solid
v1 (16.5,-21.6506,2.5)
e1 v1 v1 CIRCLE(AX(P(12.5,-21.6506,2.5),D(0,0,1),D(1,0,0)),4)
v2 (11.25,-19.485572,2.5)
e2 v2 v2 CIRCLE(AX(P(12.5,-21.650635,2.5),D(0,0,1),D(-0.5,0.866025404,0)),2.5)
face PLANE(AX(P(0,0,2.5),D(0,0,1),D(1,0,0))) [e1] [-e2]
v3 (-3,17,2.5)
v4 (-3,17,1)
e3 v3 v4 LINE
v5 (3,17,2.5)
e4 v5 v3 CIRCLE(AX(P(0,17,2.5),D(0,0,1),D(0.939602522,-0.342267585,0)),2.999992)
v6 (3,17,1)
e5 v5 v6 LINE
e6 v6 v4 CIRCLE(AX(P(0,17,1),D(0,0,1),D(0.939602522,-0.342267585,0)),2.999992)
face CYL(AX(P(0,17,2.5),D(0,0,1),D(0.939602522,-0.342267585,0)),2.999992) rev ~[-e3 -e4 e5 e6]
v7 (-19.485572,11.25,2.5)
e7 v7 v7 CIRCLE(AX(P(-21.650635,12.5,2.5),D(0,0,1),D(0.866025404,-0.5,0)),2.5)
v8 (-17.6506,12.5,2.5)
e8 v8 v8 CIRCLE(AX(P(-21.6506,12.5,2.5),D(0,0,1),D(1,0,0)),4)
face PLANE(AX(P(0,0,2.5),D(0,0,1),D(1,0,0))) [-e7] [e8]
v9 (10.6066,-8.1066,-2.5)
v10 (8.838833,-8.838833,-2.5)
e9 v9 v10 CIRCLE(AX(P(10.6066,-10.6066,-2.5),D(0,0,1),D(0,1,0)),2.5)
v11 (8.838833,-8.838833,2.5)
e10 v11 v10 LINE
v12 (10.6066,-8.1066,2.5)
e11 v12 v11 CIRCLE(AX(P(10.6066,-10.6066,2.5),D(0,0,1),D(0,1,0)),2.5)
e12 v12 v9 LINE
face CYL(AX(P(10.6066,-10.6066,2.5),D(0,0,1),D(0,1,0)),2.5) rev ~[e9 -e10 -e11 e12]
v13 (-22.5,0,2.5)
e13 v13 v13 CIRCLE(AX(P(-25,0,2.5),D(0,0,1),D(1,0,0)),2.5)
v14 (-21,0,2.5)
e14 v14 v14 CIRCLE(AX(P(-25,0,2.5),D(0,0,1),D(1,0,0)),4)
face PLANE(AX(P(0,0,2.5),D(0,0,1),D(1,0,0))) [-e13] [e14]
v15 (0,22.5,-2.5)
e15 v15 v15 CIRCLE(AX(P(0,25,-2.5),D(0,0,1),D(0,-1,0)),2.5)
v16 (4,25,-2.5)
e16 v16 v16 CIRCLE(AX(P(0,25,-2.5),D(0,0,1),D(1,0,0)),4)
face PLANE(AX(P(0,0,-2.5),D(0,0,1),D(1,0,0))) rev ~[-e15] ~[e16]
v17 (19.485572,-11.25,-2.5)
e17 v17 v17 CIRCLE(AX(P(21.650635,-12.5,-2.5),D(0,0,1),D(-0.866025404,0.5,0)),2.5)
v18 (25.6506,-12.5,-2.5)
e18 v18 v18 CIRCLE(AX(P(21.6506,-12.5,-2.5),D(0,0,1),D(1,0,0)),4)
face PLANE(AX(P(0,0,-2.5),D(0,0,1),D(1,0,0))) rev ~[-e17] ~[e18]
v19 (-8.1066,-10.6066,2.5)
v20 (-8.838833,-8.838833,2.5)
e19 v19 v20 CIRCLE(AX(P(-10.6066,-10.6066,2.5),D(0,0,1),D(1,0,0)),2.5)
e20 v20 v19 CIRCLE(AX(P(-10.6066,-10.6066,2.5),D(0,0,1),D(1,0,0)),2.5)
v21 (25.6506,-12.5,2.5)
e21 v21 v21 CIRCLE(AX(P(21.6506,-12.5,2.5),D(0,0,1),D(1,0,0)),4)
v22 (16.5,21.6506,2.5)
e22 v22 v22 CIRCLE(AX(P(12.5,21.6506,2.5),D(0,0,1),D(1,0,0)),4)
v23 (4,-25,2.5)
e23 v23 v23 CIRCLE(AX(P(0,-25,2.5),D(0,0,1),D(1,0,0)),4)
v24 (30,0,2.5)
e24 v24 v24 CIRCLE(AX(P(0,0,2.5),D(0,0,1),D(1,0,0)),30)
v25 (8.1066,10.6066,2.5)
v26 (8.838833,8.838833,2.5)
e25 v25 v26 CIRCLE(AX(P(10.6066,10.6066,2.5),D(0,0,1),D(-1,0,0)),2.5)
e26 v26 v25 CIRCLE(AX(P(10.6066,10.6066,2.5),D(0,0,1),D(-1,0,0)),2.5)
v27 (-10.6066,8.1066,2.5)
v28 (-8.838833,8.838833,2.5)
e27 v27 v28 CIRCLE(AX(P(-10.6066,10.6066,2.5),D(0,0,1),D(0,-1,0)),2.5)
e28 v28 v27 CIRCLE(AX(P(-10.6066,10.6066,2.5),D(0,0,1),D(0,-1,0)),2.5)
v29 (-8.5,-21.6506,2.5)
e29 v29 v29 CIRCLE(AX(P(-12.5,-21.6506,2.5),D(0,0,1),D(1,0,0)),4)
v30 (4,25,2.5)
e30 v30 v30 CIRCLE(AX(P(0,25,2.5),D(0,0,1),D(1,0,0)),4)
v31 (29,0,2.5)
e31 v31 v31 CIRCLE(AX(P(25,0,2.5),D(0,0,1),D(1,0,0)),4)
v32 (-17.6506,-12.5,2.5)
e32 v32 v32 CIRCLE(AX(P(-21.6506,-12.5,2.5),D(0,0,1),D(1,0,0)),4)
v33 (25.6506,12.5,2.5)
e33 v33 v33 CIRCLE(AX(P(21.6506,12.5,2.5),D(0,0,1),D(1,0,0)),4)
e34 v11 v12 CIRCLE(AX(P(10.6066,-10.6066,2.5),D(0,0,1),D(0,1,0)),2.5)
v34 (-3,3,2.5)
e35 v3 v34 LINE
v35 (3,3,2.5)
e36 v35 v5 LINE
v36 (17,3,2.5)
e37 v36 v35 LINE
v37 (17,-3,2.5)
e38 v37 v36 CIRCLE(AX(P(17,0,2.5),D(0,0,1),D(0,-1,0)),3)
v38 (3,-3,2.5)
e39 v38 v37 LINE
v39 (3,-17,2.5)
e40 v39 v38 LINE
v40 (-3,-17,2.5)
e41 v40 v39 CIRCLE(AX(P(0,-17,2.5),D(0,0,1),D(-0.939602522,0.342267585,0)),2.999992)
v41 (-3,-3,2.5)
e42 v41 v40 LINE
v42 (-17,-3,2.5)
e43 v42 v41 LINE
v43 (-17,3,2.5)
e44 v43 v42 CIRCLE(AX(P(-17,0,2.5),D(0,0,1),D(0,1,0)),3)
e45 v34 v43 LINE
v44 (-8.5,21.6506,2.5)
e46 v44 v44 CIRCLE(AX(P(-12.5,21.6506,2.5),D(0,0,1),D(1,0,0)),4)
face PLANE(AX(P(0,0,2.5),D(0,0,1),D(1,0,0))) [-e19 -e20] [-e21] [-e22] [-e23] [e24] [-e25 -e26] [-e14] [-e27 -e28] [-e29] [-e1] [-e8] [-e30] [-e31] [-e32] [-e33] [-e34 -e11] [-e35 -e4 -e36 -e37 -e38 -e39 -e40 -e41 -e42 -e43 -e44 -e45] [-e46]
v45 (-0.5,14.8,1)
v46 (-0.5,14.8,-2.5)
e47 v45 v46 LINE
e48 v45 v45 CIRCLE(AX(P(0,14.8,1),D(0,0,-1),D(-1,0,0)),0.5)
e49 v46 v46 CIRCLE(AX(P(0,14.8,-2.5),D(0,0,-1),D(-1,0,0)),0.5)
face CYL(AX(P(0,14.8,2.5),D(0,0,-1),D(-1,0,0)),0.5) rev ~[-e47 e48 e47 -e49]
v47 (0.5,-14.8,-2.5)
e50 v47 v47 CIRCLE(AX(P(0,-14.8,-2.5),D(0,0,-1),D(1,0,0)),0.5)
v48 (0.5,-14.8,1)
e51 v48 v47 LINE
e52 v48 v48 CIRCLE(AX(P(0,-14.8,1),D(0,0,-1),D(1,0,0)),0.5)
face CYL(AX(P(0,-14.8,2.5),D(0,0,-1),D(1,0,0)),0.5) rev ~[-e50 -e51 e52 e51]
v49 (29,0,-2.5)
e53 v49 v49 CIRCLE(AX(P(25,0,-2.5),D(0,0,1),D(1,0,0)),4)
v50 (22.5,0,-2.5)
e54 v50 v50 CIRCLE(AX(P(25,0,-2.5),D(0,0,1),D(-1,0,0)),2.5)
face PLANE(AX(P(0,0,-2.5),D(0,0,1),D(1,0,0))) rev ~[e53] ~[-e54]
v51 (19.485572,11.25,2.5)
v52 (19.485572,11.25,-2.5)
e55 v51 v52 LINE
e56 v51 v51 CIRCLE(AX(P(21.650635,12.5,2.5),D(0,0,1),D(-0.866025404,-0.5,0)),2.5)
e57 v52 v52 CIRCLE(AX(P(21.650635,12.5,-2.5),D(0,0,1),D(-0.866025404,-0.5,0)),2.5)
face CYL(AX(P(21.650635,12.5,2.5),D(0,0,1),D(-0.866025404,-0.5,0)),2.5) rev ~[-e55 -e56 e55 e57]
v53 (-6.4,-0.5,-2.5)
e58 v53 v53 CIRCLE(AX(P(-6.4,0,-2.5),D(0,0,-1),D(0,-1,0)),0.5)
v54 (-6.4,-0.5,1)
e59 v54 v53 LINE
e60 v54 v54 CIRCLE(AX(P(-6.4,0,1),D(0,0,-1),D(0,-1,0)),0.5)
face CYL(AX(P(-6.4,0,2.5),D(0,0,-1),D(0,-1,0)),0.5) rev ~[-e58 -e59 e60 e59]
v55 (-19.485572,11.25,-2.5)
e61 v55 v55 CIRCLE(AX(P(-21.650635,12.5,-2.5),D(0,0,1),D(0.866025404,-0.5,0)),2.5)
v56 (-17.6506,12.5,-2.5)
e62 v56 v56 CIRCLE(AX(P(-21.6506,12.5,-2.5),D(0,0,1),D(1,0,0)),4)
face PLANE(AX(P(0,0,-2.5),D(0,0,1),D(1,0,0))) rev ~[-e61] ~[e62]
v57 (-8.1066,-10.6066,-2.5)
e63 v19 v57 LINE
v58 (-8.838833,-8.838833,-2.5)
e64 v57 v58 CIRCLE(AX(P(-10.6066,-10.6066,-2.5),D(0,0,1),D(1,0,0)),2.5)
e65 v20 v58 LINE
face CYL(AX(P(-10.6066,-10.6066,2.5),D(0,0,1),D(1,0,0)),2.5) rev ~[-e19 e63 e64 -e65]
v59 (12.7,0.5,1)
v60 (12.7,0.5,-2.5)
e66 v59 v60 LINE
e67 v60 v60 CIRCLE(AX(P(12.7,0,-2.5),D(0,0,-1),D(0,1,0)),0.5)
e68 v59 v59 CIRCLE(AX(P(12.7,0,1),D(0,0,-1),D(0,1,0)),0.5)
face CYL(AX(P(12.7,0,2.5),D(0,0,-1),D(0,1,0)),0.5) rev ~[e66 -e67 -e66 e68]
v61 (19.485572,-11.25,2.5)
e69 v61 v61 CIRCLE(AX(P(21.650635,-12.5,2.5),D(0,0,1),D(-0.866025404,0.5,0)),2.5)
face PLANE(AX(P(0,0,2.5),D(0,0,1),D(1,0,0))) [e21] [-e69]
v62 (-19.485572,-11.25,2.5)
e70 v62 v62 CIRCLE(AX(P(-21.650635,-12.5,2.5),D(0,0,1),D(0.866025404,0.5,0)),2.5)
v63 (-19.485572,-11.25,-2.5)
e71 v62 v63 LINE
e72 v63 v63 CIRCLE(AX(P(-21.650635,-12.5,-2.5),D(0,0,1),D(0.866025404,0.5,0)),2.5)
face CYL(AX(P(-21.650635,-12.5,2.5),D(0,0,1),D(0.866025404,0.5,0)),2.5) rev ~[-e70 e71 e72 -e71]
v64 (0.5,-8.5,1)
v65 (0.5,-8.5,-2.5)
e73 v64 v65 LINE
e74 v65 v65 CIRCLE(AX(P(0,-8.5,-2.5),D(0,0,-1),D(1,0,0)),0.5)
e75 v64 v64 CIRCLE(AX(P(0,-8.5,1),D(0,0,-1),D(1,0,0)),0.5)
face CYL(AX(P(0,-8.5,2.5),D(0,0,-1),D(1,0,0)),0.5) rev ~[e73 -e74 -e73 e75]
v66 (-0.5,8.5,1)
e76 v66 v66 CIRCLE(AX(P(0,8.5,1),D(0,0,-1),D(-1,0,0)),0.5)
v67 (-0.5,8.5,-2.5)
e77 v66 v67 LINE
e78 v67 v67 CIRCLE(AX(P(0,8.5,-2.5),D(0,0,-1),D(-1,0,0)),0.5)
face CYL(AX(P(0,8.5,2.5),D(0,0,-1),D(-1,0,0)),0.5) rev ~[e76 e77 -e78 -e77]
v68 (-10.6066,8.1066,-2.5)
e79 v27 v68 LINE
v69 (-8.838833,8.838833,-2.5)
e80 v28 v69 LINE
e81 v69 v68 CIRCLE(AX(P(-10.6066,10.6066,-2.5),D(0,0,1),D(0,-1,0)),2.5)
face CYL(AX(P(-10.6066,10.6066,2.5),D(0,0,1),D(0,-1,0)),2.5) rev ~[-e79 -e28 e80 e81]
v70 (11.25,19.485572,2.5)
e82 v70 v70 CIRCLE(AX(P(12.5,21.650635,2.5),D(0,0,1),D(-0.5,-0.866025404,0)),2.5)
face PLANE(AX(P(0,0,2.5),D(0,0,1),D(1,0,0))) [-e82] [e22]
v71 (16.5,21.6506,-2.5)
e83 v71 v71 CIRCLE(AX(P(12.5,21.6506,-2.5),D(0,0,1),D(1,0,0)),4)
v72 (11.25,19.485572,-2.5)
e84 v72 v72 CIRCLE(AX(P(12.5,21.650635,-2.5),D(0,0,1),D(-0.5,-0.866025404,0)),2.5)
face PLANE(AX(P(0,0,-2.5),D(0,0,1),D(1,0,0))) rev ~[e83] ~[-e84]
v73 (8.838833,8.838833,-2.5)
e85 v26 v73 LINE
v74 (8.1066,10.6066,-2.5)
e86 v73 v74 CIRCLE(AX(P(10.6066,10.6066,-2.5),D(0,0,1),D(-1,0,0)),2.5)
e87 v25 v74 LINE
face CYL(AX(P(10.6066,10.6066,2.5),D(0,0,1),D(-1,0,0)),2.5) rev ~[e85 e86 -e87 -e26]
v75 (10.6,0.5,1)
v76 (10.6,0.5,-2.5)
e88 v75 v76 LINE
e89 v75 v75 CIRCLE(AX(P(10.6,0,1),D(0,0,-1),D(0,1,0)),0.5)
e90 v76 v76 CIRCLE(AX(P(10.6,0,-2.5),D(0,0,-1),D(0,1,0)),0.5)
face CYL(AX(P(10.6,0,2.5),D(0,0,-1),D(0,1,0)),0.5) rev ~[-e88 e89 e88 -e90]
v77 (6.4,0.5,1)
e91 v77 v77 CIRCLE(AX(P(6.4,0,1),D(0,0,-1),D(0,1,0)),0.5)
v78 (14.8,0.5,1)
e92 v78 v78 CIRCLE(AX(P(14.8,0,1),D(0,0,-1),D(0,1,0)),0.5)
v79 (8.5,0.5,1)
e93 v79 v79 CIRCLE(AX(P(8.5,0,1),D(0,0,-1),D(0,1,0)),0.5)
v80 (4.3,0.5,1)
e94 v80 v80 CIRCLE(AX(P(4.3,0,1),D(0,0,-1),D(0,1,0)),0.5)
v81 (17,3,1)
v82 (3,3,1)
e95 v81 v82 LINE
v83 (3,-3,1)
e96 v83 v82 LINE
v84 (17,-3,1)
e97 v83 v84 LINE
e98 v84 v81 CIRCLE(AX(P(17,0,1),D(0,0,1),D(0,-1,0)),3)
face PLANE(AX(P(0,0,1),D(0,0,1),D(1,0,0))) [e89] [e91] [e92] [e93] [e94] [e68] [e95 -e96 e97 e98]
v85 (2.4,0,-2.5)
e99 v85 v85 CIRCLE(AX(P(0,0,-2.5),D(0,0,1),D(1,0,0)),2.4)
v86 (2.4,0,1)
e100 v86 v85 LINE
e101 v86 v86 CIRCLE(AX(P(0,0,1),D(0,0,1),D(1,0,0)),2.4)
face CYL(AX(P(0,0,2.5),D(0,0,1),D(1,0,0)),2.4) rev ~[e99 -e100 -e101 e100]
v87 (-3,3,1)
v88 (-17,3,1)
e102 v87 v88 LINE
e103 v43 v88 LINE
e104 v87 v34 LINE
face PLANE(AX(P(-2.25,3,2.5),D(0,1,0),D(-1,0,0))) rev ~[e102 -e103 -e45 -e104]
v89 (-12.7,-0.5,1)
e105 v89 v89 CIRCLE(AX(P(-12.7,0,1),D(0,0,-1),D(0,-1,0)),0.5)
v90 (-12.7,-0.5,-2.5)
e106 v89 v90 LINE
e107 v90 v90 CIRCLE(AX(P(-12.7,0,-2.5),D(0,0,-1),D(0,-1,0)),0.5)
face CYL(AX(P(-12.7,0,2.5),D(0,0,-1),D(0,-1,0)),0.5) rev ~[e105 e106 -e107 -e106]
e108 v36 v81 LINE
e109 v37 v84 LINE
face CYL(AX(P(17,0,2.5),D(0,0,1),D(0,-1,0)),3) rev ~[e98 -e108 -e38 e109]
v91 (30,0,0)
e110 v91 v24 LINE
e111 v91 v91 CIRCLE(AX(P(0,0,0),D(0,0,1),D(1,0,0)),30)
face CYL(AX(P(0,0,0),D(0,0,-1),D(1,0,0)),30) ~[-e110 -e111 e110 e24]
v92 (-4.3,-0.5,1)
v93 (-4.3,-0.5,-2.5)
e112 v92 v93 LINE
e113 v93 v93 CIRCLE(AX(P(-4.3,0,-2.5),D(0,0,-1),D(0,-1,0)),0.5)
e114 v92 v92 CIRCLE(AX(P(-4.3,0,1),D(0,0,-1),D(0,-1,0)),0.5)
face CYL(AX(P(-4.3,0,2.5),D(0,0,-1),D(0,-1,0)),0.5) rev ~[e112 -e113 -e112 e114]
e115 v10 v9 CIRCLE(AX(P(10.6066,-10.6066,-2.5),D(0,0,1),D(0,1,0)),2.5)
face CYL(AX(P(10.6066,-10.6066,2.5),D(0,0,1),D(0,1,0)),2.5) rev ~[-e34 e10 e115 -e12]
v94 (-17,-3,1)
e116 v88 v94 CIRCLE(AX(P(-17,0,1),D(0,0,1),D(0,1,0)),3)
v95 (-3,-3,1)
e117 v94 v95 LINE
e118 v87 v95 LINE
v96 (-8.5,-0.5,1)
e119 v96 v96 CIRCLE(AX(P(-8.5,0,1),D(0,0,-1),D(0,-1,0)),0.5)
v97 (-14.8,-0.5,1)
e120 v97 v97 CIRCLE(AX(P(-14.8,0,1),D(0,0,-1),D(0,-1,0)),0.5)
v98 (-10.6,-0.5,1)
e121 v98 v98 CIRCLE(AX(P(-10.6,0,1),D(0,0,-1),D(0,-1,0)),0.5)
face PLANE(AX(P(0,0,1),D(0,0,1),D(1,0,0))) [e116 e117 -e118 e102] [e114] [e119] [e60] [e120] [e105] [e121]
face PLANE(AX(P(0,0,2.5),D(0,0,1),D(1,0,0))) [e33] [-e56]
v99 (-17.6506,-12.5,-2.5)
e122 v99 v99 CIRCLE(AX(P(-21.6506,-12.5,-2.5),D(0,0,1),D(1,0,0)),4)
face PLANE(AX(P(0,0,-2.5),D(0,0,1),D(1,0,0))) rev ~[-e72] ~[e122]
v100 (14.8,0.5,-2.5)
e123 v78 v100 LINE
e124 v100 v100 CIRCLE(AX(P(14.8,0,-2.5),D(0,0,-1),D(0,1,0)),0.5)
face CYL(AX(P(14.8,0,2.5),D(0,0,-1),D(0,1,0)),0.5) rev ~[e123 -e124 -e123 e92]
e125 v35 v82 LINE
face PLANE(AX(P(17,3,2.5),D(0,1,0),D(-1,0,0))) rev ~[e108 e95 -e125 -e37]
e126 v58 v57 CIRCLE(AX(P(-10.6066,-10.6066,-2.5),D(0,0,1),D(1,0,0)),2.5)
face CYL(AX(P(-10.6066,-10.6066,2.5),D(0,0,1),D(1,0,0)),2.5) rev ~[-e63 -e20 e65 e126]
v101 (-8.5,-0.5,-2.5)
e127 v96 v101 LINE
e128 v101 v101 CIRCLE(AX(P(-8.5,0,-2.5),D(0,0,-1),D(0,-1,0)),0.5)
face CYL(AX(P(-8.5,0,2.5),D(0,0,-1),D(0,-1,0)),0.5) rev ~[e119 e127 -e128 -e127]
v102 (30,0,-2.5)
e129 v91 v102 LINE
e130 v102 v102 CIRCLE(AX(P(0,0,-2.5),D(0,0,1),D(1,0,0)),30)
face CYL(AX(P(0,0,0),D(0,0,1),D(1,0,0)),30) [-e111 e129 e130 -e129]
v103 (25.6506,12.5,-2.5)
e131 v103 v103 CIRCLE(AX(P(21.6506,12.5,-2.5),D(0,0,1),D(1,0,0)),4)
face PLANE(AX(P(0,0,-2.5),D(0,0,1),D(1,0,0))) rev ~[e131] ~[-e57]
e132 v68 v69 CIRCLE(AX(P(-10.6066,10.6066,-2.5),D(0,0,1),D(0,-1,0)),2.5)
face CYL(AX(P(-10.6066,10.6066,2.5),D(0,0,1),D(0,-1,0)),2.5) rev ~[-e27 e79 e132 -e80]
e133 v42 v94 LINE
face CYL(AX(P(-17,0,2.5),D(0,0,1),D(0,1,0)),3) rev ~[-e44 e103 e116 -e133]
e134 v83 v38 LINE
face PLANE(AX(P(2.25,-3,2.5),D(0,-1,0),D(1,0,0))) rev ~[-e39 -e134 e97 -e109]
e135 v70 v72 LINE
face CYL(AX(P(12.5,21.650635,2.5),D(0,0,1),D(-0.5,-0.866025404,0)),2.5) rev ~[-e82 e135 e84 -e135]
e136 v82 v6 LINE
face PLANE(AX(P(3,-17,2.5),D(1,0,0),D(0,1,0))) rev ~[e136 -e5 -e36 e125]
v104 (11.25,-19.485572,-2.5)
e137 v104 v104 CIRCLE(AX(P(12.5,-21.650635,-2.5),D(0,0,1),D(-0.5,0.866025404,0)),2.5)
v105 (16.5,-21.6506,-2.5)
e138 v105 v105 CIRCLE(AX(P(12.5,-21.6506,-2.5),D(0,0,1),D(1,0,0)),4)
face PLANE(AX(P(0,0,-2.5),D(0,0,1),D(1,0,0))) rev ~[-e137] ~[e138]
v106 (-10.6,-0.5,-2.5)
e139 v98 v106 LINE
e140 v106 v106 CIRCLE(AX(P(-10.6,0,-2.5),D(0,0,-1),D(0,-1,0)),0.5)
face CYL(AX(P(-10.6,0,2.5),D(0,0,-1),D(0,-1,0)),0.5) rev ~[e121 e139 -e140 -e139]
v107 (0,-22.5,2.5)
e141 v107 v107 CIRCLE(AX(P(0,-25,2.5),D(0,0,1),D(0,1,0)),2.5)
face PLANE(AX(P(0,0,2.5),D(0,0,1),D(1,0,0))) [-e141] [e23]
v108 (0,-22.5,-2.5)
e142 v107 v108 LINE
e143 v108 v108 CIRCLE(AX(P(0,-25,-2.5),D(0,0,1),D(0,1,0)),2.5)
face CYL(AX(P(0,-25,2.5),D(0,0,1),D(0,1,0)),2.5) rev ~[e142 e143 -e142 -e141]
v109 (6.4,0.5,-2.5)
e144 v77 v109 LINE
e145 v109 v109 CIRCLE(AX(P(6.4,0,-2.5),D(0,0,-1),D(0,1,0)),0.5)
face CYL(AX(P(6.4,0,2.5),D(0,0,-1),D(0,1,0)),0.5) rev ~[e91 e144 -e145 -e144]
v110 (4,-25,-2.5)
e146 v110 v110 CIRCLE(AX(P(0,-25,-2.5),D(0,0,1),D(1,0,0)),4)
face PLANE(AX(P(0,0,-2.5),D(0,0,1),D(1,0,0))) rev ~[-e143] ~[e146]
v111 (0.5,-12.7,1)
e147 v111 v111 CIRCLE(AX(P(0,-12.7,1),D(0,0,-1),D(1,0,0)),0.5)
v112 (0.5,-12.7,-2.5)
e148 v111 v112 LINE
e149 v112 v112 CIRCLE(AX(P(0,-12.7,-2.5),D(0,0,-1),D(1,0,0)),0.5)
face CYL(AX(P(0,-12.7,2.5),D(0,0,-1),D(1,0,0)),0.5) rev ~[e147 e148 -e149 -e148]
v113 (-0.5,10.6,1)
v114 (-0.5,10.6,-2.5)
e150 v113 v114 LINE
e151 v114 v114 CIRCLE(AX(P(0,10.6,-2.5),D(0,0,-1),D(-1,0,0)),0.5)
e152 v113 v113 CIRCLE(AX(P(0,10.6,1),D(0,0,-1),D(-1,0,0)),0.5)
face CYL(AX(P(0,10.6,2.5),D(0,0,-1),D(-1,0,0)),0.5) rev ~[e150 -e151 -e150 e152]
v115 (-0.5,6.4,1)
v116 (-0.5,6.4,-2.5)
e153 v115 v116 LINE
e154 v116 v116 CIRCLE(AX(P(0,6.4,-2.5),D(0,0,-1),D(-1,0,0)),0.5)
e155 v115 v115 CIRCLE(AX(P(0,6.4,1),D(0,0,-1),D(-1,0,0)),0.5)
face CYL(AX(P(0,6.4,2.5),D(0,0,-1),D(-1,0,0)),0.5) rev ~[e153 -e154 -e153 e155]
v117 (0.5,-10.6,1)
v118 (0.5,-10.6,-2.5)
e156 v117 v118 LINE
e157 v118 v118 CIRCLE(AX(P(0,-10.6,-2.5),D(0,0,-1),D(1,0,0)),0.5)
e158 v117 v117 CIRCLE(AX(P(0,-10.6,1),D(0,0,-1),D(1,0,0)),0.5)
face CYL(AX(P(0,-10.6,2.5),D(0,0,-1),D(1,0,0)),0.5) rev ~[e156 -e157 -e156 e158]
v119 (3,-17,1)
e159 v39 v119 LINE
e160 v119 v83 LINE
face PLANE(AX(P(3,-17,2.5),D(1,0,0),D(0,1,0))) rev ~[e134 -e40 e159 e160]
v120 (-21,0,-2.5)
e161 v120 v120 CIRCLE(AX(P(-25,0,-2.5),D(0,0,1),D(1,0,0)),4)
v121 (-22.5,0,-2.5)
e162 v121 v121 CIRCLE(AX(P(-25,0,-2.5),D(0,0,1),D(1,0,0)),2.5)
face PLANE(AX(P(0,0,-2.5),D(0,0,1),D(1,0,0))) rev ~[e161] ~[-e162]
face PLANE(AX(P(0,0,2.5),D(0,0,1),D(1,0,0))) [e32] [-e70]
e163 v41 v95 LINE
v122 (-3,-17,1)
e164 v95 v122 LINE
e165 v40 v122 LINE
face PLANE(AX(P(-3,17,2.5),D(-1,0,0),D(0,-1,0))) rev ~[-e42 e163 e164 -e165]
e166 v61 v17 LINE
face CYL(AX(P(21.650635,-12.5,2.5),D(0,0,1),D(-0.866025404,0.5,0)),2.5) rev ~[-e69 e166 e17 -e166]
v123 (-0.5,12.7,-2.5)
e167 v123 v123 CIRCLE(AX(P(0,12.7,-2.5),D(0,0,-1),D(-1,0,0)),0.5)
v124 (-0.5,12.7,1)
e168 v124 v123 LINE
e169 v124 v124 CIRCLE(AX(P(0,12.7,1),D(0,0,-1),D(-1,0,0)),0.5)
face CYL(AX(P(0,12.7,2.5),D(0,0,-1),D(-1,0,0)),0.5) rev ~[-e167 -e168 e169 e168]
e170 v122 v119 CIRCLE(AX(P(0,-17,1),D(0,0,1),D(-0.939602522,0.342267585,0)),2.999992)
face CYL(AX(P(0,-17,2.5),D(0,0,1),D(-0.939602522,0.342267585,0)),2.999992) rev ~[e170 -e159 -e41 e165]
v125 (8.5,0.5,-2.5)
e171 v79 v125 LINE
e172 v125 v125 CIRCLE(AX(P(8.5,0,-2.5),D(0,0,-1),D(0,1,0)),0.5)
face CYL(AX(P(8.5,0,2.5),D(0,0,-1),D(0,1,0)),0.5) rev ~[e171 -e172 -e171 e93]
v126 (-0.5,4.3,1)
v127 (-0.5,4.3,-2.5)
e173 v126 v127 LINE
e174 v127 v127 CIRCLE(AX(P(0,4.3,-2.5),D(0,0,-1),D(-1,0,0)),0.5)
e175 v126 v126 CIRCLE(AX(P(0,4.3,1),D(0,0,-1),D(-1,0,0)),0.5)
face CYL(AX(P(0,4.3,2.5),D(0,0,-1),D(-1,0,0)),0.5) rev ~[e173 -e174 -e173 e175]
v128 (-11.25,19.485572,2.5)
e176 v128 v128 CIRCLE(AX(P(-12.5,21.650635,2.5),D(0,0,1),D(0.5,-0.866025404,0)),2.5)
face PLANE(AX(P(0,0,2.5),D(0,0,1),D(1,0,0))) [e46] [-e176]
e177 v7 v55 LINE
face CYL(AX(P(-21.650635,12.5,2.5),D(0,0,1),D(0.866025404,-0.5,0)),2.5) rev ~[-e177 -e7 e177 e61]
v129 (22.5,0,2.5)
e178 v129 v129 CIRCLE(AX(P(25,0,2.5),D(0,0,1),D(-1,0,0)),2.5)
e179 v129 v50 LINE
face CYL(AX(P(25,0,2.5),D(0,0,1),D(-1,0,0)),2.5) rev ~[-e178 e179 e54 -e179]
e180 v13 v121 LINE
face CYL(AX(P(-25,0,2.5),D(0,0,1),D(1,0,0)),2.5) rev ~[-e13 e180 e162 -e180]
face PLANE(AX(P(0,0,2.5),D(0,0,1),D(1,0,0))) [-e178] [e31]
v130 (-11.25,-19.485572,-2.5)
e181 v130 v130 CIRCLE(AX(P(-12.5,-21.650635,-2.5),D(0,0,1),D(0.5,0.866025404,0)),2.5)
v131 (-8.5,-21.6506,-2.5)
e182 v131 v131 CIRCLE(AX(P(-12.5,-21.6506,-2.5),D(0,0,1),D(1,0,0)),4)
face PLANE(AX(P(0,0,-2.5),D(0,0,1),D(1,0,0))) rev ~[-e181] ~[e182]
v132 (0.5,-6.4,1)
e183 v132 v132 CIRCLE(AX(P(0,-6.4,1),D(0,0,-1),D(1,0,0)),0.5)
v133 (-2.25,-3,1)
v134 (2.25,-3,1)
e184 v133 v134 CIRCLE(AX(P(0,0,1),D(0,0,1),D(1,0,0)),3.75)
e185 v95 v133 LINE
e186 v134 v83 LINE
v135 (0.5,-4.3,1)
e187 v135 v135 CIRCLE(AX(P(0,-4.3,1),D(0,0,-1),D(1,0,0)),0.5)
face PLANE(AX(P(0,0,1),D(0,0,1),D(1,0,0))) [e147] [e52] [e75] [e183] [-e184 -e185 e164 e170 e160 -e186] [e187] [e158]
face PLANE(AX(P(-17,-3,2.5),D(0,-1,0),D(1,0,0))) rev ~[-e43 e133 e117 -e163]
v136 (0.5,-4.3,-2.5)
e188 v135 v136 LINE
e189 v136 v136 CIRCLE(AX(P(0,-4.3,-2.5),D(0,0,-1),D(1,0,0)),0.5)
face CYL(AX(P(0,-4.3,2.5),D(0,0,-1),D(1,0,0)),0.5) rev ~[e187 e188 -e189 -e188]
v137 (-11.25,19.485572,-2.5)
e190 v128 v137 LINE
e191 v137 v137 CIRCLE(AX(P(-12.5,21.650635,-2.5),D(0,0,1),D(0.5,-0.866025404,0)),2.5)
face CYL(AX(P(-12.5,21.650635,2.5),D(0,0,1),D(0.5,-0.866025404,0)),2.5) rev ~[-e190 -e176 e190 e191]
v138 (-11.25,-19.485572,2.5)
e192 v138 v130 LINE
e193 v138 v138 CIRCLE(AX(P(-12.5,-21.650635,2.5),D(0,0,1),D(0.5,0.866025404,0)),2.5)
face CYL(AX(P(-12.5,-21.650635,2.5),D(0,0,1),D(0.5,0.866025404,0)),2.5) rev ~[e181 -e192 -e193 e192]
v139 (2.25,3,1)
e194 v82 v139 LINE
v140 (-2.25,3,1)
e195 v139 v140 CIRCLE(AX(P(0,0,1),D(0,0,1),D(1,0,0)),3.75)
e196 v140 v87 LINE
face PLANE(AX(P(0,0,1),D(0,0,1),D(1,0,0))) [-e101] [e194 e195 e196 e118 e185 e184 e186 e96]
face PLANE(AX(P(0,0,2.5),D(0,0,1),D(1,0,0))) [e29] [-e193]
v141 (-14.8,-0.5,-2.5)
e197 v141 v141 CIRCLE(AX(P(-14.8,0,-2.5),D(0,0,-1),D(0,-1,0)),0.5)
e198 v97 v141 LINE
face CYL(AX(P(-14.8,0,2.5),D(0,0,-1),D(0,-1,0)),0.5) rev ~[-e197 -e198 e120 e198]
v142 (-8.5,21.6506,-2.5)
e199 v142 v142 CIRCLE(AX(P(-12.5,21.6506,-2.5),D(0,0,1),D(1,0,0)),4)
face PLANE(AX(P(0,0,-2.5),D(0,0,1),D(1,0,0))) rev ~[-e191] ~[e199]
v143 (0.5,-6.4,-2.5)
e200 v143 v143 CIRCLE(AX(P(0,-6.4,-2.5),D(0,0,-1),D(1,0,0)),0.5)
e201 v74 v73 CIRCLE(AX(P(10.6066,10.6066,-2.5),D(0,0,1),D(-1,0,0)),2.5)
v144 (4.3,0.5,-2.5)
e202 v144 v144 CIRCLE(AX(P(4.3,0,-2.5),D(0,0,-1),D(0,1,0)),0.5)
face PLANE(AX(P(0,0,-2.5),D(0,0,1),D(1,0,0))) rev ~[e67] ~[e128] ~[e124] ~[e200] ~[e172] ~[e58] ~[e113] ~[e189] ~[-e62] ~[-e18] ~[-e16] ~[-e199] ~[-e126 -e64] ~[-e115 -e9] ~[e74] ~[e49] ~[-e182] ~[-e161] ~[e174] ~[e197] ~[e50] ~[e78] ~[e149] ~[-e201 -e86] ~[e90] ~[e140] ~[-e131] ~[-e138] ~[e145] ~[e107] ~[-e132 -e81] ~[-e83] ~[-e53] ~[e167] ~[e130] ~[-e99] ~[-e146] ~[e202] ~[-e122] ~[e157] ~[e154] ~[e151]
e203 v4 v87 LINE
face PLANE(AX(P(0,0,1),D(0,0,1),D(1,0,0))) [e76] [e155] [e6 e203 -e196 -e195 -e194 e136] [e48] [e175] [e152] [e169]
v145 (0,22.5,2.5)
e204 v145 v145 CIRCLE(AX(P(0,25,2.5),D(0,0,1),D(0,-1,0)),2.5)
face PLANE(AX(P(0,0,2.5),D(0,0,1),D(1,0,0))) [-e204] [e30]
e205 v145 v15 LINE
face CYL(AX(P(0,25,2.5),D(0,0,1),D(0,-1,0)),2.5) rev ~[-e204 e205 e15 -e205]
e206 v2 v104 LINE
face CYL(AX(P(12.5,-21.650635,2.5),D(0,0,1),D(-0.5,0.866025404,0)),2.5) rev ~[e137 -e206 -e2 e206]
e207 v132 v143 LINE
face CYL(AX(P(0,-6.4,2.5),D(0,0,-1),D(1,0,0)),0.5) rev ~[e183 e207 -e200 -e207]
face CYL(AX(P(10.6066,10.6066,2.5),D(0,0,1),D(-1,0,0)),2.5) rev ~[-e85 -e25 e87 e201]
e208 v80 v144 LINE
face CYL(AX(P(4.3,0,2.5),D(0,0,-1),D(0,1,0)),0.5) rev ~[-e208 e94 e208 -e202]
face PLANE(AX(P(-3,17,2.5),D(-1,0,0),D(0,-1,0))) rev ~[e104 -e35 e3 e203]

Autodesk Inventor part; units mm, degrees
ref_plane "YZ Plane" through (0, 0, 0) normal (1, 0, 0) x (0, 1, 0)
ref_plane "XZ Plane" through (0, 0, 0) normal (0, 1, 0) x (-1, 0, 0)
ref_plane "XY Plane" through (0, 0, 0) normal (0, 0, 1) x (1, 0, 0)
sketch "Szkic1" plane through (0, 0, 0) normal (0, 0, 1) x (1, 0, 0)
  circle A0 centre (0, 0) radius 30
  dimension "d0" = 60
extrude "Wyciągnięcie proste1" add sketch "Szkic1" along normal mid plane 5
sketch "Szkic3" plane through (0, 0, 2.5) normal (0, 0, 1) x (1, 0, 0)
  point P0 (0, 0)
sketch "Szkic4" plane through (0, 0, 2.5) normal (0, 0, 1) x (1, 0, 0)
  circle A0 centre (0, 0) radius 2.4
  dimension "d3" = 4.8
extrude "Wyciągnięcie proste2" cut sketch "Szkic4" against normal blind 5
sketch "Szkic7" plane through (0, 0, 2.5) normal (0, 0, 1) x (1, 0, 0)
  point P0 (0, 0)
sketch "Szkic11" plane through (0, 0, 2.5) normal (0, 0, 1) x (1, 0, 0)
  circle A0 centre (-25, 0) radius 4
  circle A1 centre (0, 0) radius 30 projected
  circle A2 centre (-21.6506, -12.5) radius 4
  circle A3 centre (-12.5, -21.6506) radius 4
  circle A4 centre (0, -25) radius 4
  circle A5 centre (12.5, -21.6506) radius 4
  circle A6 centre (21.6506, -12.5) radius 4
  circle A7 centre (25, 0) radius 4
  circle A8 centre (21.6506, 12.5) radius 4
  circle A9 centre (12.5, 21.6506) radius 4
  circle A10 centre (0, 25) radius 4
  circle A11 centre (-12.5, 21.6506) radius 4
  circle A12 centre (-21.6506, 12.5) radius 4
  point P0 (19.3799, 15.793)
  point P1 (23.3671, 8.887)
  point P2 (24.68, -3.9872)
  point P3 (24.68, 3.9872)
  point P4 (23.3671, -8.887)
  point P5 (19.3799, -15.793)
  point P6 (8.887, -23.3671)
  point P7 (15.793, -19.3799)
  point P8 (3.9872, -24.68)
  point P9 (-3.9872, -24.68)
  point P10 (-15.793, -19.3799)
  point P11 (-8.887, -23.3671)
  point P12 (-19.3799, -15.793)
  point P13 (-23.3671, -8.887)
  point P14 (-24.68, -3.9872)
  point P15 (-24.68, 3.9872)
  point P16 (8.887, 23.3671)
  point P17 (15.793, 19.3799)
  point P18 (-3.9872, 24.68)
  point P19 (3.9872, 24.68)
  point P20 (-15.793, 19.3799)
  point P21 (-8.887, 23.3671)
  point P22 (-23.3671, 8.887)
  point P23 (-19.3799, 15.793)
  dimension "d15" = 25
  dimension "d16" = 0
  dimension "d17" = 8
  dimension "d20" = 360
extrude "Wyciągnięcie proste3" add sketch "Szkic11" against normal blind 5 contours A0 | A2 | A3 | A4 | A5 | A6 | A7 | A8 | A9 | A10 | A11 | A12
sketch "Szkic16" plane through (0, 0, 2.5) normal (0, 0, 1) x (1, 0, 0)
  arc A0 (30, 0) -> (30, 0) centre (-25, 0) ccw projected
  circle A1 centre (-25, 0) radius 2.5
  arc A2 (30, 0) -> (30, 0) centre (-25, 0) ccw projected
  point P0 (0, 0)
  dimension "d30" = 5
extrude "Wyciągnięcie proste4" cut sketch "Szkic16" against normal blind 5 contours A1
pattern_circular "Szyk kołowy1" count 12 over 360 about axis through (0, 0, 0) along (0, 0, 1) of "Wyciągnięcie proste4"
sketch "Szkic22" plane through (0, 0, 2.5) normal (0, 0, 1) x (1, 0, 0)
  line L0 (0, 0) -> (-4.3, 0)
  circle A0 centre (-4.3, 0) radius 0.5
  line L1 (-4.3, 0) -> (-6.4, 0)
  line L2 (-6.4, 0) -> (-8.5, 0)
  line L3 (-8.5, 0) -> (-10.6, 0)
  line L4 (-10.6, 0) -> (-12.7, 0)
  line L5 (-12.7, 0) -> (-14.8, 0)
  dimension "d51" = 4.3
  dimension "d52" = 1
  dimension "d53" = 2.1
  dimension "d54" = 2.1
  dimension "d55" = 2.1
  dimension "d56" = 2.1
  dimension "d57" = 2.1
hole "Otwór2" at (-14.8, 0, 2.5) at (-12.7, 0, 2.5) at (-10.6, 0, 2.5) at (-8.5, 0, 2.5) at (-6.4, 0, 2.5) at (-4.3, 0, 2.5) direction (0, 0, -1) diameter 1 depth 25 tip angle 118
pattern_circular "Szyk kołowy2" count 4 over 360 about axis through (0, 0, 0) along (0, 0, 1) of "Otwór2"
sketch "Szkic23" plane through (0, 0, 2.5) normal (0, 0, 1) x (1, 0, 0)
  circle A0 centre (0, 0) radius 3.75
  line L0 (0, 0) -> (3.75, 0) construction
  line L1 (-17, -3) -> (17, -3)
  line L2 (17, -3) -> (17, 3)
  line L3 (17, 3) -> (-17, 3)
  line L4 (-17, 3) -> (-17, -3)
  line L5 (-17, -3) -> (17, 3) construction
  line L6 (17, -3) -> (-17, 3) construction
  arc A1 (-17, 3) -> (-17, -3) centre (-17, 0) ccw
  arc A2 (17, -3) -> (17, 3) centre (17, 0) ccw
  point P0 (-2.25, -3)
  point P1 (2.25, -3)
  point P2 (2.25, 3)
  point P3 (-2.25, 3)
  dimension "d68" = 7.5
  dimension "d70" = 34
  dimension "d71" = 6
extrude "Wyciągnięcie proste8" cut sketch "Szkic23" against normal blind 1.5
sketch "Szkic24" plane through (0, 0, 2.5) normal (0, 0, 1) x (1, 0, 0)
  line L0 (-3, -17) -> (3, -17)
  line L1 (3, -17) -> (3, 17)
  line L2 (3, 17) -> (-3, 17)
  line L3 (-3, 17) -> (-3, -17)
  line L4 (-3, -17) -> (3, 17) construction
  line L5 (3, -17) -> (-3, 17) construction
  arc A0 (2.8188, 15.9732) -> (-2.8188, 15.9732) centre (0, 17) ccw
  arc A1 (-2.8188, -15.9732) -> (2.8188, -15.9732) centre (0, -17) ccw
  point P0 (0, 0)
  point P1 (3, 17)
  point P2 (-3, 17)
  point P3 (-3, -17)
  point P4 (3, -17)
  point P5 (3, -17)
  point P6 (-3, -17)
  point P7 (-3, 17)
  point P8 (3, 17)
  dimension "d74" = 6
  dimension "d75" = 34
  dimension "d76" = 6
  dimension "d77" = 6
extrude "Wyciągnięcie proste9" cut sketch "Szkic24" against normal blind 1.5
sketch "Szkic25" plane through (0, 0, 2.5) normal (0, 0, 1) x (1, 0, 0)
  line L0 (0, 0) -> (-10.6066, -10.6066)
  line L1 (0, 0) -> (15, 0) construction
  circle A0 centre (-10.6066, -10.6066) radius 2.5
  dimension "d80" = 15
  dimension "d81" = 135
  dimension "d82" = 5
extrude "Wyciągnięcie proste10" cut sketch "Szkic25" against normal blind 5
pattern_circular "Szyk kołowy3" count 4 over 360 about axis through (0, 0, 0) along (0, 0, 1) of "Wyciągnięcie proste10"
sketch "Szkic26" plane through (0, 0, 1) normal (0, 0, 1) x (1, 0, 0)
  circle A0 centre (0, 0) radius 2.4
  dimension "d88" = 4.8
extrude "Wyciągnięcie proste11" cut sketch "Szkic26" against normal blind 5
sketch "Szkic27" plane through (0, 0, 2.5) normal (0, 0, 1) x (1, 0, 0)
  point P0 (0, 0)
properties part number "Servo_przelozenie"
